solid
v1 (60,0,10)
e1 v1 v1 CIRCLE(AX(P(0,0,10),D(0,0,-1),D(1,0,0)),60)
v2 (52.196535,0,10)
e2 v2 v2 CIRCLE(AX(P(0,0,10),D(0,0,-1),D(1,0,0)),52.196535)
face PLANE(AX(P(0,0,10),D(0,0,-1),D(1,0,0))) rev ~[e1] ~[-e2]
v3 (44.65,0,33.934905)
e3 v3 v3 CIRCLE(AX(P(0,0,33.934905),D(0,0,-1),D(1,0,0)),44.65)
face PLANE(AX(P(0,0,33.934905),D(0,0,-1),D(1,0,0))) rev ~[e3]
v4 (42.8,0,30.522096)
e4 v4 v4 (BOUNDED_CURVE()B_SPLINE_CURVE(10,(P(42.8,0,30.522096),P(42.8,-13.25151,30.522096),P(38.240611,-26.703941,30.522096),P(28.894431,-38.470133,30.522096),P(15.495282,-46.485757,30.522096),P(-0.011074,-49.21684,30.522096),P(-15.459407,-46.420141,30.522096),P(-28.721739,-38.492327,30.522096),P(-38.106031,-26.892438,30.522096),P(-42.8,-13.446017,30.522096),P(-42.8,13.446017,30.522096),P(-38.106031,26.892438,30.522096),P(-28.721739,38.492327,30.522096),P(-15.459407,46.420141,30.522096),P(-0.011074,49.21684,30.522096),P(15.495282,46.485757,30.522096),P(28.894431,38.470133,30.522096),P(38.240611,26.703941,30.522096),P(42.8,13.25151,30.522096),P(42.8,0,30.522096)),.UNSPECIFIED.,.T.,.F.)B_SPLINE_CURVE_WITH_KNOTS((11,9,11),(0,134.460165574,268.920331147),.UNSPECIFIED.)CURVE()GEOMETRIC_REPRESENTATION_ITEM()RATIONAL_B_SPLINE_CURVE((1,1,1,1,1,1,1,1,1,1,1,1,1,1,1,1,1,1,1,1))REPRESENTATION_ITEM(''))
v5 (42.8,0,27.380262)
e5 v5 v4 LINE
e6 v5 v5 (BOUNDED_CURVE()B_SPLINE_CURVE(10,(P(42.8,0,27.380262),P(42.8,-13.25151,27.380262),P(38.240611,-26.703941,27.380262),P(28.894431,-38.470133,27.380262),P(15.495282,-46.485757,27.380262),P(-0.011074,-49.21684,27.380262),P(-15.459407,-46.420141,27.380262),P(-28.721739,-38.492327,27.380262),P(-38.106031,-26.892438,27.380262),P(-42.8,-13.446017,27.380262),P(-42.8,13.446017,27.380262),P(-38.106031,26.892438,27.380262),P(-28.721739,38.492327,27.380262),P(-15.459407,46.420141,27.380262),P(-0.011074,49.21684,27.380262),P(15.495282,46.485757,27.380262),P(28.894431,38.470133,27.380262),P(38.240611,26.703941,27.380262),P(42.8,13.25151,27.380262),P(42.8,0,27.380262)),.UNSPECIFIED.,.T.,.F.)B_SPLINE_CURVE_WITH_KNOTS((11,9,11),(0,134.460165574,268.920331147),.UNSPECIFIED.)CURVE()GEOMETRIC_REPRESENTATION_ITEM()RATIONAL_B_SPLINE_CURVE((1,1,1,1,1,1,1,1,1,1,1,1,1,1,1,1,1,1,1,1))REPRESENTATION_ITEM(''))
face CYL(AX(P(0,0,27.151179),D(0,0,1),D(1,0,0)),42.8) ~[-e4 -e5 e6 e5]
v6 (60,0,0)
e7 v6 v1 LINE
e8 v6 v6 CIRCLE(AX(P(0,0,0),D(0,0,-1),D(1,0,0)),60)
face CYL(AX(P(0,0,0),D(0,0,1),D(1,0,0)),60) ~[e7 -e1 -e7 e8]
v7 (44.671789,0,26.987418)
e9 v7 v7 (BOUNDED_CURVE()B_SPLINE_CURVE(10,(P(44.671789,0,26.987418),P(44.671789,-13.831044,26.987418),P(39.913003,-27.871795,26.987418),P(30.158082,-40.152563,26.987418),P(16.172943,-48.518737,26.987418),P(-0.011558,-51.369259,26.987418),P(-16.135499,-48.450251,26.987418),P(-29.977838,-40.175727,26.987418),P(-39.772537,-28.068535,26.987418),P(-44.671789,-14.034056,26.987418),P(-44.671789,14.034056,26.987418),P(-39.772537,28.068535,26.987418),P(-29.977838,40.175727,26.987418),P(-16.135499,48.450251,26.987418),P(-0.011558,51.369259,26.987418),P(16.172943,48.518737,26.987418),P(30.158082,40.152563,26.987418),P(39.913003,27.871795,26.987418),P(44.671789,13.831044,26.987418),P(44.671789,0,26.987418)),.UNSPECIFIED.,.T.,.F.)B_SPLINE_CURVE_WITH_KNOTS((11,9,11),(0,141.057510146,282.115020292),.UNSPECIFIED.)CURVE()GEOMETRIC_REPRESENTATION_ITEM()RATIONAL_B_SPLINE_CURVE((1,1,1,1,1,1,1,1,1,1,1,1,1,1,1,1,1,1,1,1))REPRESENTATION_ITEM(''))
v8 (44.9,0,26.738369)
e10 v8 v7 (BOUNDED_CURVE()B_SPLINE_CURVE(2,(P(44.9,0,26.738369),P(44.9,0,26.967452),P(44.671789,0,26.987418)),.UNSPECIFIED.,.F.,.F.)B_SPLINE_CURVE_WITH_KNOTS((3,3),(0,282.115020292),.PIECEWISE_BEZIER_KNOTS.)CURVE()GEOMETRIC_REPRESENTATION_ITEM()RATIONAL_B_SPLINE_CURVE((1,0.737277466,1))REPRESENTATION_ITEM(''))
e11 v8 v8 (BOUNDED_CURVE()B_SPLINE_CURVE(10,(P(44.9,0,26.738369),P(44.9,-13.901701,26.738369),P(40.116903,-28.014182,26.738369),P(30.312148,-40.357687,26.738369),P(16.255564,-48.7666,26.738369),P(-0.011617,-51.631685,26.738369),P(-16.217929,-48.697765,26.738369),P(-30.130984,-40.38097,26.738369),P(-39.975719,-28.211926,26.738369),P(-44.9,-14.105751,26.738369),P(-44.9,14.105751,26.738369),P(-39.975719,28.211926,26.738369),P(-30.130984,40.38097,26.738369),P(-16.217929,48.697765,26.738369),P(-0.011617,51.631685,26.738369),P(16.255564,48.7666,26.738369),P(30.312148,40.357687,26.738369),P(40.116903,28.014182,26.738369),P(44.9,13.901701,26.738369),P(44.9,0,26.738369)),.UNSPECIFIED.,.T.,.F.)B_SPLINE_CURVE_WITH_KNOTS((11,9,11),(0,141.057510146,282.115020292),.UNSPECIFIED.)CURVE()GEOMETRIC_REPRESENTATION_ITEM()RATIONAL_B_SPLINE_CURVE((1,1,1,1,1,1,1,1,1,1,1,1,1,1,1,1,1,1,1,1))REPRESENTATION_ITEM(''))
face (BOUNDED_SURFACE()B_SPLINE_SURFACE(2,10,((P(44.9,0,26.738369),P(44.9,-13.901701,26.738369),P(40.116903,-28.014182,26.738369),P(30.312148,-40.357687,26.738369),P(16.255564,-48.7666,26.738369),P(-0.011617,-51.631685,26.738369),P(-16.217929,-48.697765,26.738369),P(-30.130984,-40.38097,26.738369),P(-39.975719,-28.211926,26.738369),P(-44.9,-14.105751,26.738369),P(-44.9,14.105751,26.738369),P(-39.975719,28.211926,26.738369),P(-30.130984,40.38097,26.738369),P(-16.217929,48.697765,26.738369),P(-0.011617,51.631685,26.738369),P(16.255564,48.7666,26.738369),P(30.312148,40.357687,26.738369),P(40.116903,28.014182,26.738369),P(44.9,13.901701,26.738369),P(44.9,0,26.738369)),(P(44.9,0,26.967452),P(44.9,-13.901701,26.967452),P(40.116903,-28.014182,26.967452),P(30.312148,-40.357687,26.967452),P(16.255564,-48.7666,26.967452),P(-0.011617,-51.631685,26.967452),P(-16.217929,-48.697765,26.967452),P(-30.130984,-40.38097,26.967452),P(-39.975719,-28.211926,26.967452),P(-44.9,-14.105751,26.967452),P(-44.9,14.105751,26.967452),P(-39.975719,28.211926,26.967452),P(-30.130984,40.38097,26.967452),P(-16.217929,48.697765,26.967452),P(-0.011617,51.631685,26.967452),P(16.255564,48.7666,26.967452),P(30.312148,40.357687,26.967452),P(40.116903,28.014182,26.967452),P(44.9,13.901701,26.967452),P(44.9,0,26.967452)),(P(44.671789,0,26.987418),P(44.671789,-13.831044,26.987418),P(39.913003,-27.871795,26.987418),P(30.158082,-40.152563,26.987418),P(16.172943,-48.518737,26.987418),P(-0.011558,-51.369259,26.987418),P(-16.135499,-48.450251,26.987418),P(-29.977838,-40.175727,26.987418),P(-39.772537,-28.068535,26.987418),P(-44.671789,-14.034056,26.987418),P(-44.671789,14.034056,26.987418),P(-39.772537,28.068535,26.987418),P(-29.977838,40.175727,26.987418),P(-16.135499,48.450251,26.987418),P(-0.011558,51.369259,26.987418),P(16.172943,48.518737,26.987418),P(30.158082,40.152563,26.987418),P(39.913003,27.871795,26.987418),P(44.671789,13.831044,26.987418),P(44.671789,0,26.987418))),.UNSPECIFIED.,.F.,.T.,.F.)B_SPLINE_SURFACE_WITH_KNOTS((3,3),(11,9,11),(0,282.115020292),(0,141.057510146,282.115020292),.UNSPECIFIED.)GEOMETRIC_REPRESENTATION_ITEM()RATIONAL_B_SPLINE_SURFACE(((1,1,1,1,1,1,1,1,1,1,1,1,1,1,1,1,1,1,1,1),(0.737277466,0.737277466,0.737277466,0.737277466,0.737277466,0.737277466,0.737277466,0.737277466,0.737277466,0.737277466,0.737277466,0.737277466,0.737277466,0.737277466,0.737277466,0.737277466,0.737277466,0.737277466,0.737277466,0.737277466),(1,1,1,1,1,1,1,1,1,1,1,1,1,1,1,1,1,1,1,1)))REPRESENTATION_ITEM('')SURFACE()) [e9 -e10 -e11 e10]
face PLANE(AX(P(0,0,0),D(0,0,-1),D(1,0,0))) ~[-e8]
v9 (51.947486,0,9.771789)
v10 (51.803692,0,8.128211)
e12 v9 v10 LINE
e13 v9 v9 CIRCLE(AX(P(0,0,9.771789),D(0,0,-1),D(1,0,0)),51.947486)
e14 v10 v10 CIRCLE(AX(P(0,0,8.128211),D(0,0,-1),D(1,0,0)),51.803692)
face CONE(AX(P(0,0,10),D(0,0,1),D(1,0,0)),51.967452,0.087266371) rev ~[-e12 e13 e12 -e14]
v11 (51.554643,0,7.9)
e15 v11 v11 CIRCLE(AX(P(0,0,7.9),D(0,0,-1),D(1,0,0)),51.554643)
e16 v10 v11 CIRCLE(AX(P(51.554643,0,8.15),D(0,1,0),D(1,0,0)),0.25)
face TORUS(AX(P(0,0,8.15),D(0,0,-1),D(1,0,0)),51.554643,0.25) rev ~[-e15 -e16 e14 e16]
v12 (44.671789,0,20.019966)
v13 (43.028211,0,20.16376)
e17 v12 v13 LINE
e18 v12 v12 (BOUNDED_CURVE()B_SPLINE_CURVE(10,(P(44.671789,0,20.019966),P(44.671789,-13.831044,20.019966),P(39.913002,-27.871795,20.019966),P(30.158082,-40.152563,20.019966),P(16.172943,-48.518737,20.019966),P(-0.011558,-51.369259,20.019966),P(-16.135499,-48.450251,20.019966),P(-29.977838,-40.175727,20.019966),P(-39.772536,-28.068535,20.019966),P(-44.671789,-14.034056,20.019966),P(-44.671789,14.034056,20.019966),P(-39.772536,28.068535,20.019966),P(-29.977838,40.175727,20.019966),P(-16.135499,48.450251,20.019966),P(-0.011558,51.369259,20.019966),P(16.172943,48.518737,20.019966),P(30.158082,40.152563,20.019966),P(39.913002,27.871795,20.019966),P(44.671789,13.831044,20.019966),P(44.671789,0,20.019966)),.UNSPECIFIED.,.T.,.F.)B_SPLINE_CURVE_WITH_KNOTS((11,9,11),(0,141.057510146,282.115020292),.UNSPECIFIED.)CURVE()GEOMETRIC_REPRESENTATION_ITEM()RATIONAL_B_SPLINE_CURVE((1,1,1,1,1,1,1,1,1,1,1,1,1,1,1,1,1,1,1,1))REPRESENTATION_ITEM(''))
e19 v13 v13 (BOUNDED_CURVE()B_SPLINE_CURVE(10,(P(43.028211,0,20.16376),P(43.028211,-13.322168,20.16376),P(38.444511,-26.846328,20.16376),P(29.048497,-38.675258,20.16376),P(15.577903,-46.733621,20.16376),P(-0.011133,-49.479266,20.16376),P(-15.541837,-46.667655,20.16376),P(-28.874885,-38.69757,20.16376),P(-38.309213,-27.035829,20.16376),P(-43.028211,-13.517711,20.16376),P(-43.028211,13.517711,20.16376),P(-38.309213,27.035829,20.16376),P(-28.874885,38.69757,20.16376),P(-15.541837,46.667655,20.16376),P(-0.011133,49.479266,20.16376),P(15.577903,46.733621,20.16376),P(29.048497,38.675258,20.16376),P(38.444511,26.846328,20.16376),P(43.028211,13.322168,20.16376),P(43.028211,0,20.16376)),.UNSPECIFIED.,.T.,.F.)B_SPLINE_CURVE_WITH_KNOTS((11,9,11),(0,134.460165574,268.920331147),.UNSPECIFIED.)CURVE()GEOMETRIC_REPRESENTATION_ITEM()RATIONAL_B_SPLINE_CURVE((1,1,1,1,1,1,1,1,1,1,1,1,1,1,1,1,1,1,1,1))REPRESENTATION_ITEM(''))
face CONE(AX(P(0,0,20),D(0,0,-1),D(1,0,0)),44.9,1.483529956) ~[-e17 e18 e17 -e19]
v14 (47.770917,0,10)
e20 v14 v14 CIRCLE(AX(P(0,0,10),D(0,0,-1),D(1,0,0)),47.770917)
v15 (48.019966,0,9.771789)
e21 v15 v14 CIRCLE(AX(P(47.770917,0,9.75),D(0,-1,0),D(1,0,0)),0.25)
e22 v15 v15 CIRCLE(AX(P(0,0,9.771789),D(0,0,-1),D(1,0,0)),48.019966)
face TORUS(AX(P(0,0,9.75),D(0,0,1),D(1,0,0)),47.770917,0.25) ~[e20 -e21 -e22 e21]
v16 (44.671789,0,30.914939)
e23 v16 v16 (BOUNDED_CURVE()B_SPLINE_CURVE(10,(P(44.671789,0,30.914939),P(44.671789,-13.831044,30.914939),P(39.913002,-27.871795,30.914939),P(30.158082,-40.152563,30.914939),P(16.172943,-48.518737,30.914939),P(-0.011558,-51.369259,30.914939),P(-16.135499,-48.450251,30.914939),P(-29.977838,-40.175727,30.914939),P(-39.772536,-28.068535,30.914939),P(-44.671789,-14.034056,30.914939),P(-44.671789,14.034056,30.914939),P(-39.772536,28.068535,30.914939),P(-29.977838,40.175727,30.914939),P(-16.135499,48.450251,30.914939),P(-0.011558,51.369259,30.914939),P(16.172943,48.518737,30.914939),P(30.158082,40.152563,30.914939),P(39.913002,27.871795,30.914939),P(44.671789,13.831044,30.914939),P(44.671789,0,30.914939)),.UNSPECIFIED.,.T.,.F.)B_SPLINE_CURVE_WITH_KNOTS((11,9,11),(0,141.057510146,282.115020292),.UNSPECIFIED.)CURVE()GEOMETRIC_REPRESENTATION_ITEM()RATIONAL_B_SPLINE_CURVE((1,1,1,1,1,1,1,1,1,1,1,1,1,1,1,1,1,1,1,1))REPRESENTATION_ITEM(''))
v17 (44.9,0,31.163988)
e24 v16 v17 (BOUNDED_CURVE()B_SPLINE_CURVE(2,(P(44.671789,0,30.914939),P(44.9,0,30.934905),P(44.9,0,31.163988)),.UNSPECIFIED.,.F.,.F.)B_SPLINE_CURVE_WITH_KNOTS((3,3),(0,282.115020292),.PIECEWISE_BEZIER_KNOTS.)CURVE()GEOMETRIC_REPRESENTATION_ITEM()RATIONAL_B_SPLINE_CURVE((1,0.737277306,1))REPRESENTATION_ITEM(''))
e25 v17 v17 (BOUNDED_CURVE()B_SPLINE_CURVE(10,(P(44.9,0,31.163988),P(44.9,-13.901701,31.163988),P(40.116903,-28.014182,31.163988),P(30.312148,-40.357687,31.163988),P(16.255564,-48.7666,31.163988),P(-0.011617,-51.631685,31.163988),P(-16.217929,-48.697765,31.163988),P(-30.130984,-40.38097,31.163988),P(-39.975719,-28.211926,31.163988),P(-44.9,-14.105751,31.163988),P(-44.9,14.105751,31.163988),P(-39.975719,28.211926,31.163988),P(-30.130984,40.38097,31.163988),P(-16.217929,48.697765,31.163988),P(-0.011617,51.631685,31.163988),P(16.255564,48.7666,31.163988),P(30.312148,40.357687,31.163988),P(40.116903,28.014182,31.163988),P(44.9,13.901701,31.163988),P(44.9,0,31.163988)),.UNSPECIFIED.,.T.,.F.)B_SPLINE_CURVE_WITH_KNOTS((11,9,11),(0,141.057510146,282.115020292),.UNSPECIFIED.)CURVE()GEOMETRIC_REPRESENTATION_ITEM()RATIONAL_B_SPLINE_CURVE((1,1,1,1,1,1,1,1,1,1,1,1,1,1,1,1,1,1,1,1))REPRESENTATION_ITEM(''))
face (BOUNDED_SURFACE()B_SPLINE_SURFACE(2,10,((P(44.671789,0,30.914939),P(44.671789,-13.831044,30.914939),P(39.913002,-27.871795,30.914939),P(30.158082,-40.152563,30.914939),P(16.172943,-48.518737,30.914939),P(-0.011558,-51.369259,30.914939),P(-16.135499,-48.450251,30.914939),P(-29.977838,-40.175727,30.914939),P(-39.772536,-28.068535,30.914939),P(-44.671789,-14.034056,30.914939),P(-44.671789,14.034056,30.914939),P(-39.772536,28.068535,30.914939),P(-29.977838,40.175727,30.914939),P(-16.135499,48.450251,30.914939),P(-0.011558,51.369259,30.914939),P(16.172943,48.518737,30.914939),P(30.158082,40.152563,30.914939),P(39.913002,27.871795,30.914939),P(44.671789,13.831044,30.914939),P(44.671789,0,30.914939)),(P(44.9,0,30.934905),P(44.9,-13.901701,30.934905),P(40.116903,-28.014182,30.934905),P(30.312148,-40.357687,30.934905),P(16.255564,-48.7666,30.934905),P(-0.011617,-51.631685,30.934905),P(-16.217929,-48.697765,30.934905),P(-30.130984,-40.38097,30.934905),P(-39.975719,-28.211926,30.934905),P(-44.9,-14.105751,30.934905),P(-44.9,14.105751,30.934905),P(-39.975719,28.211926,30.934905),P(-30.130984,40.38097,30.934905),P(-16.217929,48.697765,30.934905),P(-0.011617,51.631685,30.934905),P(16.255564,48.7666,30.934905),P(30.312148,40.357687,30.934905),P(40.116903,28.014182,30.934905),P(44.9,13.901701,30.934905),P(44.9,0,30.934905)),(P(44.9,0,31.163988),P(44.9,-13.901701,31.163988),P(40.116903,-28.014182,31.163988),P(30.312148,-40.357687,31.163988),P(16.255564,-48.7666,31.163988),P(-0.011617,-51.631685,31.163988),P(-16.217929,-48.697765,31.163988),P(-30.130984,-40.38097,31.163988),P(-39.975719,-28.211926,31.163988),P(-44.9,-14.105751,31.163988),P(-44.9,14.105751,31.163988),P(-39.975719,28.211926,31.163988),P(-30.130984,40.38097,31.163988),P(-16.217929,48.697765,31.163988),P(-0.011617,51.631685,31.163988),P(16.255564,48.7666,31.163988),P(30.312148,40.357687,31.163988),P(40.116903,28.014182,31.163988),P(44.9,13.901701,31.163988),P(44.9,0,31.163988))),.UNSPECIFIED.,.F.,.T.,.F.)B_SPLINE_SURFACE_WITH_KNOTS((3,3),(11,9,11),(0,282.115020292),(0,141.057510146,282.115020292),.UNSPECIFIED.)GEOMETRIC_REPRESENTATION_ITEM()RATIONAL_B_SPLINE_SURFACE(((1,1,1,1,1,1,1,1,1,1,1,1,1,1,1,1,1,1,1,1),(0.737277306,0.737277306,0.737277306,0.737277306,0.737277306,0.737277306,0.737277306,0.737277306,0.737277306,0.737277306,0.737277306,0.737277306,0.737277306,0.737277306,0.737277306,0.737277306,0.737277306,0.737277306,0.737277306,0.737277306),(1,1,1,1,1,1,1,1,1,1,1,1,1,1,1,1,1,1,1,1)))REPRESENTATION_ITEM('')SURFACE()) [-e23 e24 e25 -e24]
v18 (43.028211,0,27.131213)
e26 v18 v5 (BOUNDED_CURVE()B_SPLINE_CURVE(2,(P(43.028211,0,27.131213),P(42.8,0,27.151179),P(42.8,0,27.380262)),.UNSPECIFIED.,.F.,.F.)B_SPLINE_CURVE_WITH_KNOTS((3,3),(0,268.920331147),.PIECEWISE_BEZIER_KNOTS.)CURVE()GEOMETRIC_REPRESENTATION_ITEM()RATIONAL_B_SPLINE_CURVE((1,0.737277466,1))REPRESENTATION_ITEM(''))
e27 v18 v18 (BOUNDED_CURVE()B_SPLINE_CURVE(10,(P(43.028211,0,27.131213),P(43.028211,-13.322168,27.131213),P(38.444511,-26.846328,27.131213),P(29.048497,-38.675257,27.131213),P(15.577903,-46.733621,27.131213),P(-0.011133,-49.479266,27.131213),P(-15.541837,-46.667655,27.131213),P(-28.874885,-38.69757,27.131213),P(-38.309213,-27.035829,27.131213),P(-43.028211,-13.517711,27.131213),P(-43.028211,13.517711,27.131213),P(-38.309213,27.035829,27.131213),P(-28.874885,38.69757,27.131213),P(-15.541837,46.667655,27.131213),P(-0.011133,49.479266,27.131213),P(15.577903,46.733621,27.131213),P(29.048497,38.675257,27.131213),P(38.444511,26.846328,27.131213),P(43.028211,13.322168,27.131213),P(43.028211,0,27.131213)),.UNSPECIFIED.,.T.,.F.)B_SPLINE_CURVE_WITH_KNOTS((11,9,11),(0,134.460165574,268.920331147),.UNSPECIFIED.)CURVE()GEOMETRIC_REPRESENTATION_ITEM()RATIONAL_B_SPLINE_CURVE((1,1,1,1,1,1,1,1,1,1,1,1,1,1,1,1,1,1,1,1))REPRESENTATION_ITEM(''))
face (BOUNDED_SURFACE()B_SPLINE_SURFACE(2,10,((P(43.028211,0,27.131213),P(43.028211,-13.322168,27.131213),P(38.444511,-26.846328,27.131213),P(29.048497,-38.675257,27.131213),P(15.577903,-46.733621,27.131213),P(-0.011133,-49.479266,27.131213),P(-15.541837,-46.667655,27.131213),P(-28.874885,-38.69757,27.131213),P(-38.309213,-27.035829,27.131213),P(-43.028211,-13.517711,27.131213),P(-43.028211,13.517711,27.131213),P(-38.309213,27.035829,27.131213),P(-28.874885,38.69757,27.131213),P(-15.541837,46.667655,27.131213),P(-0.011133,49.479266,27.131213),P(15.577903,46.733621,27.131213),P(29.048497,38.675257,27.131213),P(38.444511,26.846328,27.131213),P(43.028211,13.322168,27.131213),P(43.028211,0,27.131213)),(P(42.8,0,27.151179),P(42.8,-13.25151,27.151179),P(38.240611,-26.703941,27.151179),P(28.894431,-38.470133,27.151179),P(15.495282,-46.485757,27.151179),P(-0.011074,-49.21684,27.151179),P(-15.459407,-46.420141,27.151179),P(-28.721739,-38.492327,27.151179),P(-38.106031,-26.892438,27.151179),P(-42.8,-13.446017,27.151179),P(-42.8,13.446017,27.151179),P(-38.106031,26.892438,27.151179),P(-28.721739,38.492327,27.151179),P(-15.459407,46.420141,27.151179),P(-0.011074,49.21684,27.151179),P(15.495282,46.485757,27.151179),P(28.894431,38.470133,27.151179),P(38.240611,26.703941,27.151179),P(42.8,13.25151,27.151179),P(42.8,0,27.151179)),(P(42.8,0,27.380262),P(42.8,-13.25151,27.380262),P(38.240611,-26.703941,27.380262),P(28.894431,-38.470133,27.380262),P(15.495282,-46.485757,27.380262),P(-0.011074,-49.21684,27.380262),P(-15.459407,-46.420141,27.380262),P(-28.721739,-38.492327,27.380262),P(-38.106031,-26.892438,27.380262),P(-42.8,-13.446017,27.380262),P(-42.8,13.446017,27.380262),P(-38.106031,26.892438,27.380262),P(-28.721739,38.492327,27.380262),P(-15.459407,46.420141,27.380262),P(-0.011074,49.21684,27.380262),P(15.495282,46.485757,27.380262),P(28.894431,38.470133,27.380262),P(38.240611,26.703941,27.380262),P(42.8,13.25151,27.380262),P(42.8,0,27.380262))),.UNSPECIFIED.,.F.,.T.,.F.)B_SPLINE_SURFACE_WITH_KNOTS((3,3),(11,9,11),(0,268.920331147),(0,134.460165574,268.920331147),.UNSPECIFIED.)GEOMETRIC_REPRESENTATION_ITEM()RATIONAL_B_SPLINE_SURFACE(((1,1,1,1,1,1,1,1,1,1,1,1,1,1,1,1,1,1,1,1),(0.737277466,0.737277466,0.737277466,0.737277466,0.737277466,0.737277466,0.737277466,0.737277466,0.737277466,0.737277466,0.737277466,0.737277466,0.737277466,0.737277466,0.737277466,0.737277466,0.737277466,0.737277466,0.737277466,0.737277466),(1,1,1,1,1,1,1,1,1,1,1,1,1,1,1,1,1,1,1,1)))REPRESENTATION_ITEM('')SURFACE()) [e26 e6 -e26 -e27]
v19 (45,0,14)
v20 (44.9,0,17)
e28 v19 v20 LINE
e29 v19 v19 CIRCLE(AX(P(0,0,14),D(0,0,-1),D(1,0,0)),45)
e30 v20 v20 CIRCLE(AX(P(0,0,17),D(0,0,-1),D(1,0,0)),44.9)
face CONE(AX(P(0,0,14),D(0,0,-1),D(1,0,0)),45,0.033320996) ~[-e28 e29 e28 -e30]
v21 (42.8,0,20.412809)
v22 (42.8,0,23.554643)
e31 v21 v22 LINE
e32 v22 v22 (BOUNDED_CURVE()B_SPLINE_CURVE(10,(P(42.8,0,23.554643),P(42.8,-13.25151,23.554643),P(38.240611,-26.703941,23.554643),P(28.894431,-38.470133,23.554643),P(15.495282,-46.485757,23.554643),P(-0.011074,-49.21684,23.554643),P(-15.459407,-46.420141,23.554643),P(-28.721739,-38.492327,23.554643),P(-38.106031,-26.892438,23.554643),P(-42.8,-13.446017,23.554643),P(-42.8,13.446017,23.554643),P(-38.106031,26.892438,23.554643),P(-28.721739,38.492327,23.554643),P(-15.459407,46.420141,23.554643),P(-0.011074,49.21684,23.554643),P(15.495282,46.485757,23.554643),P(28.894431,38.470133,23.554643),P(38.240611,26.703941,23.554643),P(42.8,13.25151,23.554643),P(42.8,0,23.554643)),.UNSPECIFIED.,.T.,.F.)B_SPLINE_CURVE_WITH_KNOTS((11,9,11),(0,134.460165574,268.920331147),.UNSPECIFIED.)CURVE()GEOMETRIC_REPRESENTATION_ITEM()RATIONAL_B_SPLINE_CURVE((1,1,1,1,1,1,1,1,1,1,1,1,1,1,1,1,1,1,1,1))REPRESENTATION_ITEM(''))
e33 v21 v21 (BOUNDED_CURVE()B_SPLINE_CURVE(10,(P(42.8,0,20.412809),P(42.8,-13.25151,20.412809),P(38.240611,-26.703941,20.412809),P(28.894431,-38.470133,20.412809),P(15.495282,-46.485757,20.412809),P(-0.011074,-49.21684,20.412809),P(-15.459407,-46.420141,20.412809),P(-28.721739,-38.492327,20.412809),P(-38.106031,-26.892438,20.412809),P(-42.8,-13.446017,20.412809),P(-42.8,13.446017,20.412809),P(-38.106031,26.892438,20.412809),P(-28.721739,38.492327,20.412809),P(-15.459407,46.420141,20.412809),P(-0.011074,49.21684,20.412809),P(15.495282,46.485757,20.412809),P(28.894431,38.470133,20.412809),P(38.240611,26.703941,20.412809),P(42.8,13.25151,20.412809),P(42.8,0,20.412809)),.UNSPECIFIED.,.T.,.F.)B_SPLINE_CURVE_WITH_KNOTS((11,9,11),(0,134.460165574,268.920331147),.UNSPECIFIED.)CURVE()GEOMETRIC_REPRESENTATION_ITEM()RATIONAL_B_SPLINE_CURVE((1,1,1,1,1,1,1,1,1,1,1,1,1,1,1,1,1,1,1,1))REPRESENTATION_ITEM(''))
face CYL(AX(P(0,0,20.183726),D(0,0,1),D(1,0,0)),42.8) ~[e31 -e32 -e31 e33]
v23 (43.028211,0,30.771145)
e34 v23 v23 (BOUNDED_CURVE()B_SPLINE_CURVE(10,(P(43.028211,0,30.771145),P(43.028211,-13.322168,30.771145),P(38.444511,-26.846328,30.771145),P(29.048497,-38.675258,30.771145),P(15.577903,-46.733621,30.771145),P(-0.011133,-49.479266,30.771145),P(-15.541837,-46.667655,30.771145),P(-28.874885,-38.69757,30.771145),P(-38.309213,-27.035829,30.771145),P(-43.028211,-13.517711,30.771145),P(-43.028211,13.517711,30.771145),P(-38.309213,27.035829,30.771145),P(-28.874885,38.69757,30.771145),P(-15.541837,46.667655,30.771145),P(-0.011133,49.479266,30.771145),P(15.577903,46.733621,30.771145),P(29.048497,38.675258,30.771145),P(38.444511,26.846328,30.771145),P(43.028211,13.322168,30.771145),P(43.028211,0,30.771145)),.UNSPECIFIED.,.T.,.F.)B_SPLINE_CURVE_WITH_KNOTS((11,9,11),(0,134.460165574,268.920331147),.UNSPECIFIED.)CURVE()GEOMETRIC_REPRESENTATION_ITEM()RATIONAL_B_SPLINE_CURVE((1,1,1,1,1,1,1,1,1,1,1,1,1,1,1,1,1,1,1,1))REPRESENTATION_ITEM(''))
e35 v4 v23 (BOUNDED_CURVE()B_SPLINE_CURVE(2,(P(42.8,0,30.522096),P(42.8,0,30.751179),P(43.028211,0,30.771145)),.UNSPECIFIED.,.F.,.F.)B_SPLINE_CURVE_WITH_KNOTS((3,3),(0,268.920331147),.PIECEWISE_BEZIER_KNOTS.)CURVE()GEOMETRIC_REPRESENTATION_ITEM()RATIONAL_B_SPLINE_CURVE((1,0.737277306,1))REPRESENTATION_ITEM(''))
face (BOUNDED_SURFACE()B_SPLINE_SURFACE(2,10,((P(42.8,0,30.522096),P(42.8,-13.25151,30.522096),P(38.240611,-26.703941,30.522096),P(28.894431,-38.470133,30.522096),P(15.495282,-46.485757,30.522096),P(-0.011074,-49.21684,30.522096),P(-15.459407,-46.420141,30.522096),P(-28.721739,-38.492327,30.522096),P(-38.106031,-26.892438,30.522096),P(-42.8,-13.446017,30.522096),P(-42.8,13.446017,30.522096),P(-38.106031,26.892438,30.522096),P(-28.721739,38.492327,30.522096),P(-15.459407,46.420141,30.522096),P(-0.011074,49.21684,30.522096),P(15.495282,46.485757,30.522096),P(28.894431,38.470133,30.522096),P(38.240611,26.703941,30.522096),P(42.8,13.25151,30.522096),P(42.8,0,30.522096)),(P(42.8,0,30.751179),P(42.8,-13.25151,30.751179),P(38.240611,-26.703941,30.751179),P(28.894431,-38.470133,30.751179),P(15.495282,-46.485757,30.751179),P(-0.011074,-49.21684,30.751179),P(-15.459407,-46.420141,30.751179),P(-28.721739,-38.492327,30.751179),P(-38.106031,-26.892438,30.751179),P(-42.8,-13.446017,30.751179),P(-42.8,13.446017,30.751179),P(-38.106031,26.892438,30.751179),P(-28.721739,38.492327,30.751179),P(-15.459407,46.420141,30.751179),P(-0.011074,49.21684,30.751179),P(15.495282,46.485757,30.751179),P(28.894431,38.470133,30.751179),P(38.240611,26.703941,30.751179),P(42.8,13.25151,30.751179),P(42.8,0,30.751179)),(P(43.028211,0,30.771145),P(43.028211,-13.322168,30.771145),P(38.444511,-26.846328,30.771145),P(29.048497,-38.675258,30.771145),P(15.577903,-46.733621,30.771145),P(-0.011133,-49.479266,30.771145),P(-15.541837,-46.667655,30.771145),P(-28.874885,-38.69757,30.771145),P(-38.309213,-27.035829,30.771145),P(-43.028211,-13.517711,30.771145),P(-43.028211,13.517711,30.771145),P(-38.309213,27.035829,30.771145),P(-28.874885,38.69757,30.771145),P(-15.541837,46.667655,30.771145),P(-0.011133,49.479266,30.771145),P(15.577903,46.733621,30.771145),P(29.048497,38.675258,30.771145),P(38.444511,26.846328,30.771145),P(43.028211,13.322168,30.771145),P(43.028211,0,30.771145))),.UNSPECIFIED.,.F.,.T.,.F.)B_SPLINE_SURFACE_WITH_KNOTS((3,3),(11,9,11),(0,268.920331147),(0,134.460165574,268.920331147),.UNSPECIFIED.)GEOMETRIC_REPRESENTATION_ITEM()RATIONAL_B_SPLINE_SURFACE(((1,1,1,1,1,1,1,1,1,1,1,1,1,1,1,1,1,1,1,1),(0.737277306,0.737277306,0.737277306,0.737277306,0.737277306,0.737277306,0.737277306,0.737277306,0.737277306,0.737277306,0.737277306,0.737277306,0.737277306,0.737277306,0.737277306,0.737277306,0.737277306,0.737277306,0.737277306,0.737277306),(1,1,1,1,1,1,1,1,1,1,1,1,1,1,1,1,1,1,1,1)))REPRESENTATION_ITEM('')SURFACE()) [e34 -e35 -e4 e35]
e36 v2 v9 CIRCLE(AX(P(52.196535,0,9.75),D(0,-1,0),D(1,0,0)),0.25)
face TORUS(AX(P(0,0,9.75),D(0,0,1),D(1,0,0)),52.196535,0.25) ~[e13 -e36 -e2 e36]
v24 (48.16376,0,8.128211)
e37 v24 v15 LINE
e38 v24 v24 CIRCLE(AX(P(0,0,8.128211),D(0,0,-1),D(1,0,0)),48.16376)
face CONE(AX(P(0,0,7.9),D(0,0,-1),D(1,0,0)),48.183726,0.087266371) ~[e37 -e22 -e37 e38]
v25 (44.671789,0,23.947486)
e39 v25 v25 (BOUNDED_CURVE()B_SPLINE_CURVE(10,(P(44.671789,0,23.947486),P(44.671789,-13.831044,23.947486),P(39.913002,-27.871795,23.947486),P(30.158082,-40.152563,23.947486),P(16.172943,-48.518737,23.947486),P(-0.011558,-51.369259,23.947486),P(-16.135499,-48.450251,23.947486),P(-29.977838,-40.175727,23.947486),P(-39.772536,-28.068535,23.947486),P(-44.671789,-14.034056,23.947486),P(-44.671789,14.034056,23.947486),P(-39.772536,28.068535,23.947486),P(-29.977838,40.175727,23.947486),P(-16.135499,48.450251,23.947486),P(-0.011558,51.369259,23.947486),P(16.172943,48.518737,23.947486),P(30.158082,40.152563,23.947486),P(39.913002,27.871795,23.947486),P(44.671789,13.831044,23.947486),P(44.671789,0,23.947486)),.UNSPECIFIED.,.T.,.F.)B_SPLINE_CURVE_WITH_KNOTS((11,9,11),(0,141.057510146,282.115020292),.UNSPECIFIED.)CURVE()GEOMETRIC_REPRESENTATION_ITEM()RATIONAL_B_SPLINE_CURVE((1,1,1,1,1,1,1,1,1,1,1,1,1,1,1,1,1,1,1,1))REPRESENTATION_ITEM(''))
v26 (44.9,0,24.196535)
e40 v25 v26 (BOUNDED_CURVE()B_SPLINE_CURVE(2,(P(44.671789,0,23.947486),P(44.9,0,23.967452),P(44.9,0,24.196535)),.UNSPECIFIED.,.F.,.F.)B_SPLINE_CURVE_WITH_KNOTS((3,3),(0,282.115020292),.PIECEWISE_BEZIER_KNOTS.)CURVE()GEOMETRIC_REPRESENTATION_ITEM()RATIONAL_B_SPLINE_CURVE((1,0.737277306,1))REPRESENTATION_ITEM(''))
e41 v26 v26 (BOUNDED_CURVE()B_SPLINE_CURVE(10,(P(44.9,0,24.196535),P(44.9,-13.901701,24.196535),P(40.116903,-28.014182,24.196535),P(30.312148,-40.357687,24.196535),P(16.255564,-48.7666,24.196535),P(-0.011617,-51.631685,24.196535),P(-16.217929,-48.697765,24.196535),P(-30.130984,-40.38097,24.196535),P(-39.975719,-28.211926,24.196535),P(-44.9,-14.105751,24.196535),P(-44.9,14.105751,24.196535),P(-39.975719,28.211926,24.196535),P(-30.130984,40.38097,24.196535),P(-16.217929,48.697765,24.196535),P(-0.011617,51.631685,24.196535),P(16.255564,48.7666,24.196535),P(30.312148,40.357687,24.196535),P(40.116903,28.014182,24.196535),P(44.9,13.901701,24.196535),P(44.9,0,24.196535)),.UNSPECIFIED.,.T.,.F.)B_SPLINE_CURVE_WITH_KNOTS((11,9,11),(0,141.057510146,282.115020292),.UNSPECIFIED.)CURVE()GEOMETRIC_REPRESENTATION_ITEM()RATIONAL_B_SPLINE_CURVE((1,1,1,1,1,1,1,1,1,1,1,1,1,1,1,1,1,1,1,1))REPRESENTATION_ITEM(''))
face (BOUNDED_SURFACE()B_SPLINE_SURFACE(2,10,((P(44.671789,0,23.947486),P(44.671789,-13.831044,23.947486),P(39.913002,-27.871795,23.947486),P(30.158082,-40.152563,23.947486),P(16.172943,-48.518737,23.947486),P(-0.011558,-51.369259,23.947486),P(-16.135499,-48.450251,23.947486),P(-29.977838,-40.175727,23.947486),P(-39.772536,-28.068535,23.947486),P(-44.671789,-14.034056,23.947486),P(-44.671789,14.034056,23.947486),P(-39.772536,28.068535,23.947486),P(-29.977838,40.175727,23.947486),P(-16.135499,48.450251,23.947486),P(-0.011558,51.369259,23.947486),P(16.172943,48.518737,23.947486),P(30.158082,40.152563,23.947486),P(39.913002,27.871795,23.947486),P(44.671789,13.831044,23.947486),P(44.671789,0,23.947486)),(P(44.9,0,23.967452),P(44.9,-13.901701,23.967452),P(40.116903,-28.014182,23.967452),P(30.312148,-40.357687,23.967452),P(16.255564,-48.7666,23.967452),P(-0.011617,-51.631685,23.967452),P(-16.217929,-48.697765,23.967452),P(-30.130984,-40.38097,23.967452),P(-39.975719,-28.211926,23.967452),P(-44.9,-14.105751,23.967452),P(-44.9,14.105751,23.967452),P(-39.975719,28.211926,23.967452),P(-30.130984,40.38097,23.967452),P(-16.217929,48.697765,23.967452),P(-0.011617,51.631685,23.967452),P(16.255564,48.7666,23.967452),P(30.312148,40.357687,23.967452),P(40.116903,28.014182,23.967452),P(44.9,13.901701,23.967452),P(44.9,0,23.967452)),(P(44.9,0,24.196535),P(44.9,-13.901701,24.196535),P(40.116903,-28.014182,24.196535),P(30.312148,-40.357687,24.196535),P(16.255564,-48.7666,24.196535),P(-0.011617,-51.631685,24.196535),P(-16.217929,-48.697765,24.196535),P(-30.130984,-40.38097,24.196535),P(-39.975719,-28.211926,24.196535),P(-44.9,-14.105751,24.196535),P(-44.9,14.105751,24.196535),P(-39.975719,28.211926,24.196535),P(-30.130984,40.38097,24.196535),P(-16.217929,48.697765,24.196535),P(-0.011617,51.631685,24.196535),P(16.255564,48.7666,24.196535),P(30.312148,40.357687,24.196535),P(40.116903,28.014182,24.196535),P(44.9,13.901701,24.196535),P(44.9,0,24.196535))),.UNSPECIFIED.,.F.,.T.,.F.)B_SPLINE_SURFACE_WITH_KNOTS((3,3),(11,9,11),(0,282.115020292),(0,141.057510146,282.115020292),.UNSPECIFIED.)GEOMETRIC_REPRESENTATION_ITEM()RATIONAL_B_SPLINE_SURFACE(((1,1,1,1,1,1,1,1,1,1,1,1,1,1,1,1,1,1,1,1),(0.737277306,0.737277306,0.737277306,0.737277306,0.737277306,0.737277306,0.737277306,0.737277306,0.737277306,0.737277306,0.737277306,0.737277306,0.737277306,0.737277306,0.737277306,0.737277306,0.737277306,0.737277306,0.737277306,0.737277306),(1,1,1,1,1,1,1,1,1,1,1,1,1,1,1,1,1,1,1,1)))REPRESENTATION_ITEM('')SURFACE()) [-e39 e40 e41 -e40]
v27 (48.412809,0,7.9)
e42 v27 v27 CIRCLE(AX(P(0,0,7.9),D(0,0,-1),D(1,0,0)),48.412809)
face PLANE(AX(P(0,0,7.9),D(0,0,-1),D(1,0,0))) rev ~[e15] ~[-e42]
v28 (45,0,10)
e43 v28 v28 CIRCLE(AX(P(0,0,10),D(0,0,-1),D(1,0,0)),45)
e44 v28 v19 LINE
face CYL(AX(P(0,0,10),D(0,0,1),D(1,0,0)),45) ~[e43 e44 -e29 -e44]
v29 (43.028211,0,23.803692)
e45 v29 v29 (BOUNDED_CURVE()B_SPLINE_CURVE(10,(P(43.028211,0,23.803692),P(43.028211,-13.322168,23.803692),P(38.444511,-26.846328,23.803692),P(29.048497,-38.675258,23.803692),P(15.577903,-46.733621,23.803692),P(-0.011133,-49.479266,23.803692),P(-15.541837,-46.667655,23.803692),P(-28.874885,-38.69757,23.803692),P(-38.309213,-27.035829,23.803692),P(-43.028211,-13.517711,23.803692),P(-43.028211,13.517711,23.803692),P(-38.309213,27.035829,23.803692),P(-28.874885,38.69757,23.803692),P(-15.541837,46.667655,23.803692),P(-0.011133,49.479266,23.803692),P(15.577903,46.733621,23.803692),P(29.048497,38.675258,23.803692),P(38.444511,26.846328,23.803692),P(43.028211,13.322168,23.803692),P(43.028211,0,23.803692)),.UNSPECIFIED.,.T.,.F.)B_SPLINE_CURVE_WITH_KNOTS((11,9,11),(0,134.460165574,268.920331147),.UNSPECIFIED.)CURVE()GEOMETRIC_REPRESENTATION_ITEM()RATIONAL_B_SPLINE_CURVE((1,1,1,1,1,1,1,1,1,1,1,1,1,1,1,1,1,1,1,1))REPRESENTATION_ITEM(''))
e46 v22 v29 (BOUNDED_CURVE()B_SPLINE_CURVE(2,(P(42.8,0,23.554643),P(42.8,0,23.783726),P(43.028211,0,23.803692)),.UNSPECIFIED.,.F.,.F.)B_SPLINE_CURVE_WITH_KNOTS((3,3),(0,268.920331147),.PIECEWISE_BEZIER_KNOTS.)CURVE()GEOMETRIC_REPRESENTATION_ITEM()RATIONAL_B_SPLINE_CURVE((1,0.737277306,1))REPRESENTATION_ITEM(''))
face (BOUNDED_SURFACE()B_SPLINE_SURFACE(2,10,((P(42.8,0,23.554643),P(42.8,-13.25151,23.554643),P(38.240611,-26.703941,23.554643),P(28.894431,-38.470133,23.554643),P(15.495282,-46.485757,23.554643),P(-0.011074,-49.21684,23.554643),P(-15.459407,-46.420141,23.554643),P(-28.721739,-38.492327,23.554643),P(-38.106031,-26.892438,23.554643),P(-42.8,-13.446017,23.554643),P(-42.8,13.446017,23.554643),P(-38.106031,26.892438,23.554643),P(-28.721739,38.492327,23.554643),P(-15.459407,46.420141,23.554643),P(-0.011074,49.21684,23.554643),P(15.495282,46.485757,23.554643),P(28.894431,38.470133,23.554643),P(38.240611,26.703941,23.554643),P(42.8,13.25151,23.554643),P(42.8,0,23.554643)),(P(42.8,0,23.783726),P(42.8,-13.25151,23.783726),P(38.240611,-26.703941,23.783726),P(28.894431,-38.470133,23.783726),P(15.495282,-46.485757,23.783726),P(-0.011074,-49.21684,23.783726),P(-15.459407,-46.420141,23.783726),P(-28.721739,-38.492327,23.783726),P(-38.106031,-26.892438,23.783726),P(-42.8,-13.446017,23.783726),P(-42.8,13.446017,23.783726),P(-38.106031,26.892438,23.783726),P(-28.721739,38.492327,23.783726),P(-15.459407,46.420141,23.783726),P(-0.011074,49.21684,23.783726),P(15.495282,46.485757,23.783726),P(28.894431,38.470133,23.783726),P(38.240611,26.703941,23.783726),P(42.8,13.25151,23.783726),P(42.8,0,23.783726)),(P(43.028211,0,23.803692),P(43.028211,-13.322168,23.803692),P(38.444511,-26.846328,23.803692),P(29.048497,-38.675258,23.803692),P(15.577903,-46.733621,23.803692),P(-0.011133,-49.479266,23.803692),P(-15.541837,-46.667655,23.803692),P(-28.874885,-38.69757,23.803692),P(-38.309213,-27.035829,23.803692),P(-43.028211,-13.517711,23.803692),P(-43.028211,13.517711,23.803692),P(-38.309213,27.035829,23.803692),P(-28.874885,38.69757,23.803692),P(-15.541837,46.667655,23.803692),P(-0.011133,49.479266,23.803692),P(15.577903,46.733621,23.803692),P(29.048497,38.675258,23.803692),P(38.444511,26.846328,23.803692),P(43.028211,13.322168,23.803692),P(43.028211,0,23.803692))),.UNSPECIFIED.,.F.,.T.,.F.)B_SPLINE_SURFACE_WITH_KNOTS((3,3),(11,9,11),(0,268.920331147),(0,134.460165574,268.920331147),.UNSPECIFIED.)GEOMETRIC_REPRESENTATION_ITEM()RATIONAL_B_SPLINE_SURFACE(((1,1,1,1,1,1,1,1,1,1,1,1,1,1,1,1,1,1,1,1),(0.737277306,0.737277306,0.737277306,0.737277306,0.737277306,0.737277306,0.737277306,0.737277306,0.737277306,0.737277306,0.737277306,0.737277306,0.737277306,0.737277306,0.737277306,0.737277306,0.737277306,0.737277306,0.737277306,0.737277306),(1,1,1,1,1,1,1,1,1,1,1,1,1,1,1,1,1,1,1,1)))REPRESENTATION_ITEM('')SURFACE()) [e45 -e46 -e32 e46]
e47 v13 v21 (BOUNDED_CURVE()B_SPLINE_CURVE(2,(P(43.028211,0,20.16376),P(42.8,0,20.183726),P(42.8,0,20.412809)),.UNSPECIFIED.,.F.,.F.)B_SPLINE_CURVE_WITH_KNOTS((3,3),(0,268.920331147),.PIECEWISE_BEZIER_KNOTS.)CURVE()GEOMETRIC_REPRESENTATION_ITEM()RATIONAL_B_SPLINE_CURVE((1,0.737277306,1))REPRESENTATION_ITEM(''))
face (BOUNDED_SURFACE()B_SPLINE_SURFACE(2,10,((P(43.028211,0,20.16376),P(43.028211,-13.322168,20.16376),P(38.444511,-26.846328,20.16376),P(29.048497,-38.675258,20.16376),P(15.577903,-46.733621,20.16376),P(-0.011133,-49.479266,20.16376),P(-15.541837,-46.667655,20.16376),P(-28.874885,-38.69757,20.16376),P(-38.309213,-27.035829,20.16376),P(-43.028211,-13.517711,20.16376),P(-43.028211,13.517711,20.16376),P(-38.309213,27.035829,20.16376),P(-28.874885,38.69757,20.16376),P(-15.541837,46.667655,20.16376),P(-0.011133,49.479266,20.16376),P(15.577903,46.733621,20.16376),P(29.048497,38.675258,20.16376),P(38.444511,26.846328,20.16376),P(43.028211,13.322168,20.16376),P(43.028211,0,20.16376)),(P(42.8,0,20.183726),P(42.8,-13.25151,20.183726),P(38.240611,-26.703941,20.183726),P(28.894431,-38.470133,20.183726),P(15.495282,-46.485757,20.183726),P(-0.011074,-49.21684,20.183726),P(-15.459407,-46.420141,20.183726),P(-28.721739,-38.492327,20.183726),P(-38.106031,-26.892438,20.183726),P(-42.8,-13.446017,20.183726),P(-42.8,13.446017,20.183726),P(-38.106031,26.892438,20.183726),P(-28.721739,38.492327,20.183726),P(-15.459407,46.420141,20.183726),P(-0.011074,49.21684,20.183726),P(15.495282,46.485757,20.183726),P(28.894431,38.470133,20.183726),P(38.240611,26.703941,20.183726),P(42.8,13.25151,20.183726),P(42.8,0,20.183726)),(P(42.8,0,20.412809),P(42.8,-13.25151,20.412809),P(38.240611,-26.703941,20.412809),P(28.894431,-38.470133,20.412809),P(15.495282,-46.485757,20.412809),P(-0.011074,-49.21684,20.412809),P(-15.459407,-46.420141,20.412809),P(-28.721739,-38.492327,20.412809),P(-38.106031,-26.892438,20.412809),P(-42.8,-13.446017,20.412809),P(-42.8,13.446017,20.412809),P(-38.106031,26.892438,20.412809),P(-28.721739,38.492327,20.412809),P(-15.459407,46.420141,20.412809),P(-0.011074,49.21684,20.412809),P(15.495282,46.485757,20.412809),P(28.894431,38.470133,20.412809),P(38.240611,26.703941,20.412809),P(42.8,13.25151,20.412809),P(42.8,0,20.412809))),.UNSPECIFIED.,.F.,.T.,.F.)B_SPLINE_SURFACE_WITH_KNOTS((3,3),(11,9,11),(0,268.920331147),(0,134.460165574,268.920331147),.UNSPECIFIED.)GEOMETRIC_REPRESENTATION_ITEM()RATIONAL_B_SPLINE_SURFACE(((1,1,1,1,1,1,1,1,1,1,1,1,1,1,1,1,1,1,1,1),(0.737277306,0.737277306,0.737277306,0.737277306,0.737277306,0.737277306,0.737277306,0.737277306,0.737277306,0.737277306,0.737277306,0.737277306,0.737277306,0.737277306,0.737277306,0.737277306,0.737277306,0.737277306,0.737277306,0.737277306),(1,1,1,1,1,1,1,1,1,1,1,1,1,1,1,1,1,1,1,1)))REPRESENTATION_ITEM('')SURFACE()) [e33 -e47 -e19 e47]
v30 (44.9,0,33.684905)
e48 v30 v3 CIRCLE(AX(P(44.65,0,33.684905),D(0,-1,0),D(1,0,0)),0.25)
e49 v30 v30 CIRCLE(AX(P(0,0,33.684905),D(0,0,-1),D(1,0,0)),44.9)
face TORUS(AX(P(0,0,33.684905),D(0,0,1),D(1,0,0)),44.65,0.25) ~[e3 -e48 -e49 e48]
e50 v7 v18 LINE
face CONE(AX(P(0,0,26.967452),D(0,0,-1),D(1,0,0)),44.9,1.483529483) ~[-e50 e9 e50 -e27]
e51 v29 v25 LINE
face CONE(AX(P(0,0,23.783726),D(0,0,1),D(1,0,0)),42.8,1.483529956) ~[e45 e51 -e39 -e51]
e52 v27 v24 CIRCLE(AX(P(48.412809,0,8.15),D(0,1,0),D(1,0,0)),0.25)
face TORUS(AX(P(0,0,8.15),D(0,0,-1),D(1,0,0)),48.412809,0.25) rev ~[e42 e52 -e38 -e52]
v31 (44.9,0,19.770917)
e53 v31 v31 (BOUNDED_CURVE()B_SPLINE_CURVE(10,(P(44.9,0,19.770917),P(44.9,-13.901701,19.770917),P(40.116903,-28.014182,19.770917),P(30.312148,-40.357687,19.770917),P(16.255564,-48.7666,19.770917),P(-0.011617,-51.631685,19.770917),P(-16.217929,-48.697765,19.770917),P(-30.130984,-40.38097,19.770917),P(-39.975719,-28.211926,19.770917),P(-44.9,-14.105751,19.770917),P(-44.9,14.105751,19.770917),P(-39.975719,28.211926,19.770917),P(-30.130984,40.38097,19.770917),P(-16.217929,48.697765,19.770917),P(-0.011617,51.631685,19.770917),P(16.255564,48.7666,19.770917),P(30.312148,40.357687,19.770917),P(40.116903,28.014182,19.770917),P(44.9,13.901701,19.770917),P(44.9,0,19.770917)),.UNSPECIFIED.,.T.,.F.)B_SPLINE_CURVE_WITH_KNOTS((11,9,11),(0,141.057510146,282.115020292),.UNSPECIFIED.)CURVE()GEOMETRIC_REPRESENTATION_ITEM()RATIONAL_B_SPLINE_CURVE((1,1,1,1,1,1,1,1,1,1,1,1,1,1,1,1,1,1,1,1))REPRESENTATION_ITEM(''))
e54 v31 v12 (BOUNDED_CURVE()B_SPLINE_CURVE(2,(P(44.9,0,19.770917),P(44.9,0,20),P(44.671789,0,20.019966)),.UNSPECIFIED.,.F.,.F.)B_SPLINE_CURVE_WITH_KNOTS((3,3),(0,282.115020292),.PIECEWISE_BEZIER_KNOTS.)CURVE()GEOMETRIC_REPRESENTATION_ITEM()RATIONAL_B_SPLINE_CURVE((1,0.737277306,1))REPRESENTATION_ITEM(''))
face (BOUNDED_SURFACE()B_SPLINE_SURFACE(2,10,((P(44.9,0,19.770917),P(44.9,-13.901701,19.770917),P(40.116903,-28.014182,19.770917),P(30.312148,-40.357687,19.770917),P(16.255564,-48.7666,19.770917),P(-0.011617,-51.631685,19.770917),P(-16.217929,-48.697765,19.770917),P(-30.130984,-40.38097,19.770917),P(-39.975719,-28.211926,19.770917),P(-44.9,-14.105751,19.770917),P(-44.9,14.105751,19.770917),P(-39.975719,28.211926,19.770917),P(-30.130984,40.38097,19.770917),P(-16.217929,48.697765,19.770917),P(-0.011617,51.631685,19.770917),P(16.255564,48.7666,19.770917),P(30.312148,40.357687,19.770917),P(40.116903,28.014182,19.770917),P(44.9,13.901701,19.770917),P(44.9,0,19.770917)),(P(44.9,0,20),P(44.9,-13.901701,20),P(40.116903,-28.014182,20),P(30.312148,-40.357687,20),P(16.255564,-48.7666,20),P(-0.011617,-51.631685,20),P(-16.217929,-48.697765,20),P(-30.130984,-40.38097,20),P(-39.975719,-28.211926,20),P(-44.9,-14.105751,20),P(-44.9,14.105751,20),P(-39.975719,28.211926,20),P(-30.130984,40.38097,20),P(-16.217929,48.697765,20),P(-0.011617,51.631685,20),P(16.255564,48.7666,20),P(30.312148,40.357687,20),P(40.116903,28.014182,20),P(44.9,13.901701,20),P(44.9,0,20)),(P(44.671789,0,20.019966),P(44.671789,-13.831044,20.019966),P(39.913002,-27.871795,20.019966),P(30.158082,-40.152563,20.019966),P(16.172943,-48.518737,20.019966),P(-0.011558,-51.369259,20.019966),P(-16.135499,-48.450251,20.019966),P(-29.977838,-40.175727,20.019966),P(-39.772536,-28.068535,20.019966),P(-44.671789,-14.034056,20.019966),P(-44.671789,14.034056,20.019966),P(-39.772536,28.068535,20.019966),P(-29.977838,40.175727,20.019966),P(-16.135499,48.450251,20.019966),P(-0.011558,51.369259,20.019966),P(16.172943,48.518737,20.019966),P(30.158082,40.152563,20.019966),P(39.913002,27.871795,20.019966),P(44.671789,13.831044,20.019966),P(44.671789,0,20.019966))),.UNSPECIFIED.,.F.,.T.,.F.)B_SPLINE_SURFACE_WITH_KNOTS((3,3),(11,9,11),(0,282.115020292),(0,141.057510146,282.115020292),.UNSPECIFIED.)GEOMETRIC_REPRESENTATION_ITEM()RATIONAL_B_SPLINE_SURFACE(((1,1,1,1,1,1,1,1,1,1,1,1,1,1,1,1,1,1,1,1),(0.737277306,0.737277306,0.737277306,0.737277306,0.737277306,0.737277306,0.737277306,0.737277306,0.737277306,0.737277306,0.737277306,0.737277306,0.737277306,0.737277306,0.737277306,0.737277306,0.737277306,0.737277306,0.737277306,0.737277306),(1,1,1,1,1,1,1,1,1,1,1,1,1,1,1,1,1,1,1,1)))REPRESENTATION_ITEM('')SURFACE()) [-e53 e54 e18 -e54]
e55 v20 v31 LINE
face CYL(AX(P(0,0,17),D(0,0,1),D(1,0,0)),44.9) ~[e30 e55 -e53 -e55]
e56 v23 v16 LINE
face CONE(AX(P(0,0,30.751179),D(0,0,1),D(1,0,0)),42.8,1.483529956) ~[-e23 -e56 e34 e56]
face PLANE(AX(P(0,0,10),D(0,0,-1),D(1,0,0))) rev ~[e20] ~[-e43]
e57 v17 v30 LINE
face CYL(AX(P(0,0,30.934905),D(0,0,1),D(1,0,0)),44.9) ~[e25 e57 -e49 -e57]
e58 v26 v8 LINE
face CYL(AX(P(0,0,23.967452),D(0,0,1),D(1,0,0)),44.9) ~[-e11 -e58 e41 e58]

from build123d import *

# Parameters (mm, degrees)
F2_R = 0.25


with BuildPart() as f1:
    # F0 (on Front) → F1 (revolve)
    with BuildSketch(Plane.XZ):
        Polygon((0, 33.934905), (0, 0), (60, 0), (60, 10), (51.967452, 10), (51.783726, 7.9), (48.183726, 7.9), (48, 10), (45, 10), (45, 14), (44.9, 17), (44.9, 20), (42.8, 20.183726), (42.8, 23.783726), (44.9, 23.967452), (44.9, 26.967452), (42.8, 27.151179), (42.8, 30.751179), (44.9, 30.934905), (44.9, 33.934905), align=None)
    revolve(axis=Axis((0, 0, 16.967452), (0, 0, -1)))

    # F2
    f2_edges = [f1.edges().sort_by_distance(p)[0] for p in [
        (-44.9, 0, 30.934905),
        (-44.9, 0, 26.967452),
        (-44.9, 0, 23.967452),
        (-44.9, 0, 20),
        (-42.8, 0, 30.751179),
        (-42.8, 0, 23.783726),
        (-42.8, 0, 27.151179),
        (-42.8, 0, 20.183726),
        (-48.183726, 0, 7.9),
        (-51.783726, 0, 7.9),
        (-51.967452, 0, 10),
        (-48, 0, 10),
        (-44.9, 0, 33.934905),
    ]]
    fillet(f2_edges, radius=F2_R)


solid = f1.part
